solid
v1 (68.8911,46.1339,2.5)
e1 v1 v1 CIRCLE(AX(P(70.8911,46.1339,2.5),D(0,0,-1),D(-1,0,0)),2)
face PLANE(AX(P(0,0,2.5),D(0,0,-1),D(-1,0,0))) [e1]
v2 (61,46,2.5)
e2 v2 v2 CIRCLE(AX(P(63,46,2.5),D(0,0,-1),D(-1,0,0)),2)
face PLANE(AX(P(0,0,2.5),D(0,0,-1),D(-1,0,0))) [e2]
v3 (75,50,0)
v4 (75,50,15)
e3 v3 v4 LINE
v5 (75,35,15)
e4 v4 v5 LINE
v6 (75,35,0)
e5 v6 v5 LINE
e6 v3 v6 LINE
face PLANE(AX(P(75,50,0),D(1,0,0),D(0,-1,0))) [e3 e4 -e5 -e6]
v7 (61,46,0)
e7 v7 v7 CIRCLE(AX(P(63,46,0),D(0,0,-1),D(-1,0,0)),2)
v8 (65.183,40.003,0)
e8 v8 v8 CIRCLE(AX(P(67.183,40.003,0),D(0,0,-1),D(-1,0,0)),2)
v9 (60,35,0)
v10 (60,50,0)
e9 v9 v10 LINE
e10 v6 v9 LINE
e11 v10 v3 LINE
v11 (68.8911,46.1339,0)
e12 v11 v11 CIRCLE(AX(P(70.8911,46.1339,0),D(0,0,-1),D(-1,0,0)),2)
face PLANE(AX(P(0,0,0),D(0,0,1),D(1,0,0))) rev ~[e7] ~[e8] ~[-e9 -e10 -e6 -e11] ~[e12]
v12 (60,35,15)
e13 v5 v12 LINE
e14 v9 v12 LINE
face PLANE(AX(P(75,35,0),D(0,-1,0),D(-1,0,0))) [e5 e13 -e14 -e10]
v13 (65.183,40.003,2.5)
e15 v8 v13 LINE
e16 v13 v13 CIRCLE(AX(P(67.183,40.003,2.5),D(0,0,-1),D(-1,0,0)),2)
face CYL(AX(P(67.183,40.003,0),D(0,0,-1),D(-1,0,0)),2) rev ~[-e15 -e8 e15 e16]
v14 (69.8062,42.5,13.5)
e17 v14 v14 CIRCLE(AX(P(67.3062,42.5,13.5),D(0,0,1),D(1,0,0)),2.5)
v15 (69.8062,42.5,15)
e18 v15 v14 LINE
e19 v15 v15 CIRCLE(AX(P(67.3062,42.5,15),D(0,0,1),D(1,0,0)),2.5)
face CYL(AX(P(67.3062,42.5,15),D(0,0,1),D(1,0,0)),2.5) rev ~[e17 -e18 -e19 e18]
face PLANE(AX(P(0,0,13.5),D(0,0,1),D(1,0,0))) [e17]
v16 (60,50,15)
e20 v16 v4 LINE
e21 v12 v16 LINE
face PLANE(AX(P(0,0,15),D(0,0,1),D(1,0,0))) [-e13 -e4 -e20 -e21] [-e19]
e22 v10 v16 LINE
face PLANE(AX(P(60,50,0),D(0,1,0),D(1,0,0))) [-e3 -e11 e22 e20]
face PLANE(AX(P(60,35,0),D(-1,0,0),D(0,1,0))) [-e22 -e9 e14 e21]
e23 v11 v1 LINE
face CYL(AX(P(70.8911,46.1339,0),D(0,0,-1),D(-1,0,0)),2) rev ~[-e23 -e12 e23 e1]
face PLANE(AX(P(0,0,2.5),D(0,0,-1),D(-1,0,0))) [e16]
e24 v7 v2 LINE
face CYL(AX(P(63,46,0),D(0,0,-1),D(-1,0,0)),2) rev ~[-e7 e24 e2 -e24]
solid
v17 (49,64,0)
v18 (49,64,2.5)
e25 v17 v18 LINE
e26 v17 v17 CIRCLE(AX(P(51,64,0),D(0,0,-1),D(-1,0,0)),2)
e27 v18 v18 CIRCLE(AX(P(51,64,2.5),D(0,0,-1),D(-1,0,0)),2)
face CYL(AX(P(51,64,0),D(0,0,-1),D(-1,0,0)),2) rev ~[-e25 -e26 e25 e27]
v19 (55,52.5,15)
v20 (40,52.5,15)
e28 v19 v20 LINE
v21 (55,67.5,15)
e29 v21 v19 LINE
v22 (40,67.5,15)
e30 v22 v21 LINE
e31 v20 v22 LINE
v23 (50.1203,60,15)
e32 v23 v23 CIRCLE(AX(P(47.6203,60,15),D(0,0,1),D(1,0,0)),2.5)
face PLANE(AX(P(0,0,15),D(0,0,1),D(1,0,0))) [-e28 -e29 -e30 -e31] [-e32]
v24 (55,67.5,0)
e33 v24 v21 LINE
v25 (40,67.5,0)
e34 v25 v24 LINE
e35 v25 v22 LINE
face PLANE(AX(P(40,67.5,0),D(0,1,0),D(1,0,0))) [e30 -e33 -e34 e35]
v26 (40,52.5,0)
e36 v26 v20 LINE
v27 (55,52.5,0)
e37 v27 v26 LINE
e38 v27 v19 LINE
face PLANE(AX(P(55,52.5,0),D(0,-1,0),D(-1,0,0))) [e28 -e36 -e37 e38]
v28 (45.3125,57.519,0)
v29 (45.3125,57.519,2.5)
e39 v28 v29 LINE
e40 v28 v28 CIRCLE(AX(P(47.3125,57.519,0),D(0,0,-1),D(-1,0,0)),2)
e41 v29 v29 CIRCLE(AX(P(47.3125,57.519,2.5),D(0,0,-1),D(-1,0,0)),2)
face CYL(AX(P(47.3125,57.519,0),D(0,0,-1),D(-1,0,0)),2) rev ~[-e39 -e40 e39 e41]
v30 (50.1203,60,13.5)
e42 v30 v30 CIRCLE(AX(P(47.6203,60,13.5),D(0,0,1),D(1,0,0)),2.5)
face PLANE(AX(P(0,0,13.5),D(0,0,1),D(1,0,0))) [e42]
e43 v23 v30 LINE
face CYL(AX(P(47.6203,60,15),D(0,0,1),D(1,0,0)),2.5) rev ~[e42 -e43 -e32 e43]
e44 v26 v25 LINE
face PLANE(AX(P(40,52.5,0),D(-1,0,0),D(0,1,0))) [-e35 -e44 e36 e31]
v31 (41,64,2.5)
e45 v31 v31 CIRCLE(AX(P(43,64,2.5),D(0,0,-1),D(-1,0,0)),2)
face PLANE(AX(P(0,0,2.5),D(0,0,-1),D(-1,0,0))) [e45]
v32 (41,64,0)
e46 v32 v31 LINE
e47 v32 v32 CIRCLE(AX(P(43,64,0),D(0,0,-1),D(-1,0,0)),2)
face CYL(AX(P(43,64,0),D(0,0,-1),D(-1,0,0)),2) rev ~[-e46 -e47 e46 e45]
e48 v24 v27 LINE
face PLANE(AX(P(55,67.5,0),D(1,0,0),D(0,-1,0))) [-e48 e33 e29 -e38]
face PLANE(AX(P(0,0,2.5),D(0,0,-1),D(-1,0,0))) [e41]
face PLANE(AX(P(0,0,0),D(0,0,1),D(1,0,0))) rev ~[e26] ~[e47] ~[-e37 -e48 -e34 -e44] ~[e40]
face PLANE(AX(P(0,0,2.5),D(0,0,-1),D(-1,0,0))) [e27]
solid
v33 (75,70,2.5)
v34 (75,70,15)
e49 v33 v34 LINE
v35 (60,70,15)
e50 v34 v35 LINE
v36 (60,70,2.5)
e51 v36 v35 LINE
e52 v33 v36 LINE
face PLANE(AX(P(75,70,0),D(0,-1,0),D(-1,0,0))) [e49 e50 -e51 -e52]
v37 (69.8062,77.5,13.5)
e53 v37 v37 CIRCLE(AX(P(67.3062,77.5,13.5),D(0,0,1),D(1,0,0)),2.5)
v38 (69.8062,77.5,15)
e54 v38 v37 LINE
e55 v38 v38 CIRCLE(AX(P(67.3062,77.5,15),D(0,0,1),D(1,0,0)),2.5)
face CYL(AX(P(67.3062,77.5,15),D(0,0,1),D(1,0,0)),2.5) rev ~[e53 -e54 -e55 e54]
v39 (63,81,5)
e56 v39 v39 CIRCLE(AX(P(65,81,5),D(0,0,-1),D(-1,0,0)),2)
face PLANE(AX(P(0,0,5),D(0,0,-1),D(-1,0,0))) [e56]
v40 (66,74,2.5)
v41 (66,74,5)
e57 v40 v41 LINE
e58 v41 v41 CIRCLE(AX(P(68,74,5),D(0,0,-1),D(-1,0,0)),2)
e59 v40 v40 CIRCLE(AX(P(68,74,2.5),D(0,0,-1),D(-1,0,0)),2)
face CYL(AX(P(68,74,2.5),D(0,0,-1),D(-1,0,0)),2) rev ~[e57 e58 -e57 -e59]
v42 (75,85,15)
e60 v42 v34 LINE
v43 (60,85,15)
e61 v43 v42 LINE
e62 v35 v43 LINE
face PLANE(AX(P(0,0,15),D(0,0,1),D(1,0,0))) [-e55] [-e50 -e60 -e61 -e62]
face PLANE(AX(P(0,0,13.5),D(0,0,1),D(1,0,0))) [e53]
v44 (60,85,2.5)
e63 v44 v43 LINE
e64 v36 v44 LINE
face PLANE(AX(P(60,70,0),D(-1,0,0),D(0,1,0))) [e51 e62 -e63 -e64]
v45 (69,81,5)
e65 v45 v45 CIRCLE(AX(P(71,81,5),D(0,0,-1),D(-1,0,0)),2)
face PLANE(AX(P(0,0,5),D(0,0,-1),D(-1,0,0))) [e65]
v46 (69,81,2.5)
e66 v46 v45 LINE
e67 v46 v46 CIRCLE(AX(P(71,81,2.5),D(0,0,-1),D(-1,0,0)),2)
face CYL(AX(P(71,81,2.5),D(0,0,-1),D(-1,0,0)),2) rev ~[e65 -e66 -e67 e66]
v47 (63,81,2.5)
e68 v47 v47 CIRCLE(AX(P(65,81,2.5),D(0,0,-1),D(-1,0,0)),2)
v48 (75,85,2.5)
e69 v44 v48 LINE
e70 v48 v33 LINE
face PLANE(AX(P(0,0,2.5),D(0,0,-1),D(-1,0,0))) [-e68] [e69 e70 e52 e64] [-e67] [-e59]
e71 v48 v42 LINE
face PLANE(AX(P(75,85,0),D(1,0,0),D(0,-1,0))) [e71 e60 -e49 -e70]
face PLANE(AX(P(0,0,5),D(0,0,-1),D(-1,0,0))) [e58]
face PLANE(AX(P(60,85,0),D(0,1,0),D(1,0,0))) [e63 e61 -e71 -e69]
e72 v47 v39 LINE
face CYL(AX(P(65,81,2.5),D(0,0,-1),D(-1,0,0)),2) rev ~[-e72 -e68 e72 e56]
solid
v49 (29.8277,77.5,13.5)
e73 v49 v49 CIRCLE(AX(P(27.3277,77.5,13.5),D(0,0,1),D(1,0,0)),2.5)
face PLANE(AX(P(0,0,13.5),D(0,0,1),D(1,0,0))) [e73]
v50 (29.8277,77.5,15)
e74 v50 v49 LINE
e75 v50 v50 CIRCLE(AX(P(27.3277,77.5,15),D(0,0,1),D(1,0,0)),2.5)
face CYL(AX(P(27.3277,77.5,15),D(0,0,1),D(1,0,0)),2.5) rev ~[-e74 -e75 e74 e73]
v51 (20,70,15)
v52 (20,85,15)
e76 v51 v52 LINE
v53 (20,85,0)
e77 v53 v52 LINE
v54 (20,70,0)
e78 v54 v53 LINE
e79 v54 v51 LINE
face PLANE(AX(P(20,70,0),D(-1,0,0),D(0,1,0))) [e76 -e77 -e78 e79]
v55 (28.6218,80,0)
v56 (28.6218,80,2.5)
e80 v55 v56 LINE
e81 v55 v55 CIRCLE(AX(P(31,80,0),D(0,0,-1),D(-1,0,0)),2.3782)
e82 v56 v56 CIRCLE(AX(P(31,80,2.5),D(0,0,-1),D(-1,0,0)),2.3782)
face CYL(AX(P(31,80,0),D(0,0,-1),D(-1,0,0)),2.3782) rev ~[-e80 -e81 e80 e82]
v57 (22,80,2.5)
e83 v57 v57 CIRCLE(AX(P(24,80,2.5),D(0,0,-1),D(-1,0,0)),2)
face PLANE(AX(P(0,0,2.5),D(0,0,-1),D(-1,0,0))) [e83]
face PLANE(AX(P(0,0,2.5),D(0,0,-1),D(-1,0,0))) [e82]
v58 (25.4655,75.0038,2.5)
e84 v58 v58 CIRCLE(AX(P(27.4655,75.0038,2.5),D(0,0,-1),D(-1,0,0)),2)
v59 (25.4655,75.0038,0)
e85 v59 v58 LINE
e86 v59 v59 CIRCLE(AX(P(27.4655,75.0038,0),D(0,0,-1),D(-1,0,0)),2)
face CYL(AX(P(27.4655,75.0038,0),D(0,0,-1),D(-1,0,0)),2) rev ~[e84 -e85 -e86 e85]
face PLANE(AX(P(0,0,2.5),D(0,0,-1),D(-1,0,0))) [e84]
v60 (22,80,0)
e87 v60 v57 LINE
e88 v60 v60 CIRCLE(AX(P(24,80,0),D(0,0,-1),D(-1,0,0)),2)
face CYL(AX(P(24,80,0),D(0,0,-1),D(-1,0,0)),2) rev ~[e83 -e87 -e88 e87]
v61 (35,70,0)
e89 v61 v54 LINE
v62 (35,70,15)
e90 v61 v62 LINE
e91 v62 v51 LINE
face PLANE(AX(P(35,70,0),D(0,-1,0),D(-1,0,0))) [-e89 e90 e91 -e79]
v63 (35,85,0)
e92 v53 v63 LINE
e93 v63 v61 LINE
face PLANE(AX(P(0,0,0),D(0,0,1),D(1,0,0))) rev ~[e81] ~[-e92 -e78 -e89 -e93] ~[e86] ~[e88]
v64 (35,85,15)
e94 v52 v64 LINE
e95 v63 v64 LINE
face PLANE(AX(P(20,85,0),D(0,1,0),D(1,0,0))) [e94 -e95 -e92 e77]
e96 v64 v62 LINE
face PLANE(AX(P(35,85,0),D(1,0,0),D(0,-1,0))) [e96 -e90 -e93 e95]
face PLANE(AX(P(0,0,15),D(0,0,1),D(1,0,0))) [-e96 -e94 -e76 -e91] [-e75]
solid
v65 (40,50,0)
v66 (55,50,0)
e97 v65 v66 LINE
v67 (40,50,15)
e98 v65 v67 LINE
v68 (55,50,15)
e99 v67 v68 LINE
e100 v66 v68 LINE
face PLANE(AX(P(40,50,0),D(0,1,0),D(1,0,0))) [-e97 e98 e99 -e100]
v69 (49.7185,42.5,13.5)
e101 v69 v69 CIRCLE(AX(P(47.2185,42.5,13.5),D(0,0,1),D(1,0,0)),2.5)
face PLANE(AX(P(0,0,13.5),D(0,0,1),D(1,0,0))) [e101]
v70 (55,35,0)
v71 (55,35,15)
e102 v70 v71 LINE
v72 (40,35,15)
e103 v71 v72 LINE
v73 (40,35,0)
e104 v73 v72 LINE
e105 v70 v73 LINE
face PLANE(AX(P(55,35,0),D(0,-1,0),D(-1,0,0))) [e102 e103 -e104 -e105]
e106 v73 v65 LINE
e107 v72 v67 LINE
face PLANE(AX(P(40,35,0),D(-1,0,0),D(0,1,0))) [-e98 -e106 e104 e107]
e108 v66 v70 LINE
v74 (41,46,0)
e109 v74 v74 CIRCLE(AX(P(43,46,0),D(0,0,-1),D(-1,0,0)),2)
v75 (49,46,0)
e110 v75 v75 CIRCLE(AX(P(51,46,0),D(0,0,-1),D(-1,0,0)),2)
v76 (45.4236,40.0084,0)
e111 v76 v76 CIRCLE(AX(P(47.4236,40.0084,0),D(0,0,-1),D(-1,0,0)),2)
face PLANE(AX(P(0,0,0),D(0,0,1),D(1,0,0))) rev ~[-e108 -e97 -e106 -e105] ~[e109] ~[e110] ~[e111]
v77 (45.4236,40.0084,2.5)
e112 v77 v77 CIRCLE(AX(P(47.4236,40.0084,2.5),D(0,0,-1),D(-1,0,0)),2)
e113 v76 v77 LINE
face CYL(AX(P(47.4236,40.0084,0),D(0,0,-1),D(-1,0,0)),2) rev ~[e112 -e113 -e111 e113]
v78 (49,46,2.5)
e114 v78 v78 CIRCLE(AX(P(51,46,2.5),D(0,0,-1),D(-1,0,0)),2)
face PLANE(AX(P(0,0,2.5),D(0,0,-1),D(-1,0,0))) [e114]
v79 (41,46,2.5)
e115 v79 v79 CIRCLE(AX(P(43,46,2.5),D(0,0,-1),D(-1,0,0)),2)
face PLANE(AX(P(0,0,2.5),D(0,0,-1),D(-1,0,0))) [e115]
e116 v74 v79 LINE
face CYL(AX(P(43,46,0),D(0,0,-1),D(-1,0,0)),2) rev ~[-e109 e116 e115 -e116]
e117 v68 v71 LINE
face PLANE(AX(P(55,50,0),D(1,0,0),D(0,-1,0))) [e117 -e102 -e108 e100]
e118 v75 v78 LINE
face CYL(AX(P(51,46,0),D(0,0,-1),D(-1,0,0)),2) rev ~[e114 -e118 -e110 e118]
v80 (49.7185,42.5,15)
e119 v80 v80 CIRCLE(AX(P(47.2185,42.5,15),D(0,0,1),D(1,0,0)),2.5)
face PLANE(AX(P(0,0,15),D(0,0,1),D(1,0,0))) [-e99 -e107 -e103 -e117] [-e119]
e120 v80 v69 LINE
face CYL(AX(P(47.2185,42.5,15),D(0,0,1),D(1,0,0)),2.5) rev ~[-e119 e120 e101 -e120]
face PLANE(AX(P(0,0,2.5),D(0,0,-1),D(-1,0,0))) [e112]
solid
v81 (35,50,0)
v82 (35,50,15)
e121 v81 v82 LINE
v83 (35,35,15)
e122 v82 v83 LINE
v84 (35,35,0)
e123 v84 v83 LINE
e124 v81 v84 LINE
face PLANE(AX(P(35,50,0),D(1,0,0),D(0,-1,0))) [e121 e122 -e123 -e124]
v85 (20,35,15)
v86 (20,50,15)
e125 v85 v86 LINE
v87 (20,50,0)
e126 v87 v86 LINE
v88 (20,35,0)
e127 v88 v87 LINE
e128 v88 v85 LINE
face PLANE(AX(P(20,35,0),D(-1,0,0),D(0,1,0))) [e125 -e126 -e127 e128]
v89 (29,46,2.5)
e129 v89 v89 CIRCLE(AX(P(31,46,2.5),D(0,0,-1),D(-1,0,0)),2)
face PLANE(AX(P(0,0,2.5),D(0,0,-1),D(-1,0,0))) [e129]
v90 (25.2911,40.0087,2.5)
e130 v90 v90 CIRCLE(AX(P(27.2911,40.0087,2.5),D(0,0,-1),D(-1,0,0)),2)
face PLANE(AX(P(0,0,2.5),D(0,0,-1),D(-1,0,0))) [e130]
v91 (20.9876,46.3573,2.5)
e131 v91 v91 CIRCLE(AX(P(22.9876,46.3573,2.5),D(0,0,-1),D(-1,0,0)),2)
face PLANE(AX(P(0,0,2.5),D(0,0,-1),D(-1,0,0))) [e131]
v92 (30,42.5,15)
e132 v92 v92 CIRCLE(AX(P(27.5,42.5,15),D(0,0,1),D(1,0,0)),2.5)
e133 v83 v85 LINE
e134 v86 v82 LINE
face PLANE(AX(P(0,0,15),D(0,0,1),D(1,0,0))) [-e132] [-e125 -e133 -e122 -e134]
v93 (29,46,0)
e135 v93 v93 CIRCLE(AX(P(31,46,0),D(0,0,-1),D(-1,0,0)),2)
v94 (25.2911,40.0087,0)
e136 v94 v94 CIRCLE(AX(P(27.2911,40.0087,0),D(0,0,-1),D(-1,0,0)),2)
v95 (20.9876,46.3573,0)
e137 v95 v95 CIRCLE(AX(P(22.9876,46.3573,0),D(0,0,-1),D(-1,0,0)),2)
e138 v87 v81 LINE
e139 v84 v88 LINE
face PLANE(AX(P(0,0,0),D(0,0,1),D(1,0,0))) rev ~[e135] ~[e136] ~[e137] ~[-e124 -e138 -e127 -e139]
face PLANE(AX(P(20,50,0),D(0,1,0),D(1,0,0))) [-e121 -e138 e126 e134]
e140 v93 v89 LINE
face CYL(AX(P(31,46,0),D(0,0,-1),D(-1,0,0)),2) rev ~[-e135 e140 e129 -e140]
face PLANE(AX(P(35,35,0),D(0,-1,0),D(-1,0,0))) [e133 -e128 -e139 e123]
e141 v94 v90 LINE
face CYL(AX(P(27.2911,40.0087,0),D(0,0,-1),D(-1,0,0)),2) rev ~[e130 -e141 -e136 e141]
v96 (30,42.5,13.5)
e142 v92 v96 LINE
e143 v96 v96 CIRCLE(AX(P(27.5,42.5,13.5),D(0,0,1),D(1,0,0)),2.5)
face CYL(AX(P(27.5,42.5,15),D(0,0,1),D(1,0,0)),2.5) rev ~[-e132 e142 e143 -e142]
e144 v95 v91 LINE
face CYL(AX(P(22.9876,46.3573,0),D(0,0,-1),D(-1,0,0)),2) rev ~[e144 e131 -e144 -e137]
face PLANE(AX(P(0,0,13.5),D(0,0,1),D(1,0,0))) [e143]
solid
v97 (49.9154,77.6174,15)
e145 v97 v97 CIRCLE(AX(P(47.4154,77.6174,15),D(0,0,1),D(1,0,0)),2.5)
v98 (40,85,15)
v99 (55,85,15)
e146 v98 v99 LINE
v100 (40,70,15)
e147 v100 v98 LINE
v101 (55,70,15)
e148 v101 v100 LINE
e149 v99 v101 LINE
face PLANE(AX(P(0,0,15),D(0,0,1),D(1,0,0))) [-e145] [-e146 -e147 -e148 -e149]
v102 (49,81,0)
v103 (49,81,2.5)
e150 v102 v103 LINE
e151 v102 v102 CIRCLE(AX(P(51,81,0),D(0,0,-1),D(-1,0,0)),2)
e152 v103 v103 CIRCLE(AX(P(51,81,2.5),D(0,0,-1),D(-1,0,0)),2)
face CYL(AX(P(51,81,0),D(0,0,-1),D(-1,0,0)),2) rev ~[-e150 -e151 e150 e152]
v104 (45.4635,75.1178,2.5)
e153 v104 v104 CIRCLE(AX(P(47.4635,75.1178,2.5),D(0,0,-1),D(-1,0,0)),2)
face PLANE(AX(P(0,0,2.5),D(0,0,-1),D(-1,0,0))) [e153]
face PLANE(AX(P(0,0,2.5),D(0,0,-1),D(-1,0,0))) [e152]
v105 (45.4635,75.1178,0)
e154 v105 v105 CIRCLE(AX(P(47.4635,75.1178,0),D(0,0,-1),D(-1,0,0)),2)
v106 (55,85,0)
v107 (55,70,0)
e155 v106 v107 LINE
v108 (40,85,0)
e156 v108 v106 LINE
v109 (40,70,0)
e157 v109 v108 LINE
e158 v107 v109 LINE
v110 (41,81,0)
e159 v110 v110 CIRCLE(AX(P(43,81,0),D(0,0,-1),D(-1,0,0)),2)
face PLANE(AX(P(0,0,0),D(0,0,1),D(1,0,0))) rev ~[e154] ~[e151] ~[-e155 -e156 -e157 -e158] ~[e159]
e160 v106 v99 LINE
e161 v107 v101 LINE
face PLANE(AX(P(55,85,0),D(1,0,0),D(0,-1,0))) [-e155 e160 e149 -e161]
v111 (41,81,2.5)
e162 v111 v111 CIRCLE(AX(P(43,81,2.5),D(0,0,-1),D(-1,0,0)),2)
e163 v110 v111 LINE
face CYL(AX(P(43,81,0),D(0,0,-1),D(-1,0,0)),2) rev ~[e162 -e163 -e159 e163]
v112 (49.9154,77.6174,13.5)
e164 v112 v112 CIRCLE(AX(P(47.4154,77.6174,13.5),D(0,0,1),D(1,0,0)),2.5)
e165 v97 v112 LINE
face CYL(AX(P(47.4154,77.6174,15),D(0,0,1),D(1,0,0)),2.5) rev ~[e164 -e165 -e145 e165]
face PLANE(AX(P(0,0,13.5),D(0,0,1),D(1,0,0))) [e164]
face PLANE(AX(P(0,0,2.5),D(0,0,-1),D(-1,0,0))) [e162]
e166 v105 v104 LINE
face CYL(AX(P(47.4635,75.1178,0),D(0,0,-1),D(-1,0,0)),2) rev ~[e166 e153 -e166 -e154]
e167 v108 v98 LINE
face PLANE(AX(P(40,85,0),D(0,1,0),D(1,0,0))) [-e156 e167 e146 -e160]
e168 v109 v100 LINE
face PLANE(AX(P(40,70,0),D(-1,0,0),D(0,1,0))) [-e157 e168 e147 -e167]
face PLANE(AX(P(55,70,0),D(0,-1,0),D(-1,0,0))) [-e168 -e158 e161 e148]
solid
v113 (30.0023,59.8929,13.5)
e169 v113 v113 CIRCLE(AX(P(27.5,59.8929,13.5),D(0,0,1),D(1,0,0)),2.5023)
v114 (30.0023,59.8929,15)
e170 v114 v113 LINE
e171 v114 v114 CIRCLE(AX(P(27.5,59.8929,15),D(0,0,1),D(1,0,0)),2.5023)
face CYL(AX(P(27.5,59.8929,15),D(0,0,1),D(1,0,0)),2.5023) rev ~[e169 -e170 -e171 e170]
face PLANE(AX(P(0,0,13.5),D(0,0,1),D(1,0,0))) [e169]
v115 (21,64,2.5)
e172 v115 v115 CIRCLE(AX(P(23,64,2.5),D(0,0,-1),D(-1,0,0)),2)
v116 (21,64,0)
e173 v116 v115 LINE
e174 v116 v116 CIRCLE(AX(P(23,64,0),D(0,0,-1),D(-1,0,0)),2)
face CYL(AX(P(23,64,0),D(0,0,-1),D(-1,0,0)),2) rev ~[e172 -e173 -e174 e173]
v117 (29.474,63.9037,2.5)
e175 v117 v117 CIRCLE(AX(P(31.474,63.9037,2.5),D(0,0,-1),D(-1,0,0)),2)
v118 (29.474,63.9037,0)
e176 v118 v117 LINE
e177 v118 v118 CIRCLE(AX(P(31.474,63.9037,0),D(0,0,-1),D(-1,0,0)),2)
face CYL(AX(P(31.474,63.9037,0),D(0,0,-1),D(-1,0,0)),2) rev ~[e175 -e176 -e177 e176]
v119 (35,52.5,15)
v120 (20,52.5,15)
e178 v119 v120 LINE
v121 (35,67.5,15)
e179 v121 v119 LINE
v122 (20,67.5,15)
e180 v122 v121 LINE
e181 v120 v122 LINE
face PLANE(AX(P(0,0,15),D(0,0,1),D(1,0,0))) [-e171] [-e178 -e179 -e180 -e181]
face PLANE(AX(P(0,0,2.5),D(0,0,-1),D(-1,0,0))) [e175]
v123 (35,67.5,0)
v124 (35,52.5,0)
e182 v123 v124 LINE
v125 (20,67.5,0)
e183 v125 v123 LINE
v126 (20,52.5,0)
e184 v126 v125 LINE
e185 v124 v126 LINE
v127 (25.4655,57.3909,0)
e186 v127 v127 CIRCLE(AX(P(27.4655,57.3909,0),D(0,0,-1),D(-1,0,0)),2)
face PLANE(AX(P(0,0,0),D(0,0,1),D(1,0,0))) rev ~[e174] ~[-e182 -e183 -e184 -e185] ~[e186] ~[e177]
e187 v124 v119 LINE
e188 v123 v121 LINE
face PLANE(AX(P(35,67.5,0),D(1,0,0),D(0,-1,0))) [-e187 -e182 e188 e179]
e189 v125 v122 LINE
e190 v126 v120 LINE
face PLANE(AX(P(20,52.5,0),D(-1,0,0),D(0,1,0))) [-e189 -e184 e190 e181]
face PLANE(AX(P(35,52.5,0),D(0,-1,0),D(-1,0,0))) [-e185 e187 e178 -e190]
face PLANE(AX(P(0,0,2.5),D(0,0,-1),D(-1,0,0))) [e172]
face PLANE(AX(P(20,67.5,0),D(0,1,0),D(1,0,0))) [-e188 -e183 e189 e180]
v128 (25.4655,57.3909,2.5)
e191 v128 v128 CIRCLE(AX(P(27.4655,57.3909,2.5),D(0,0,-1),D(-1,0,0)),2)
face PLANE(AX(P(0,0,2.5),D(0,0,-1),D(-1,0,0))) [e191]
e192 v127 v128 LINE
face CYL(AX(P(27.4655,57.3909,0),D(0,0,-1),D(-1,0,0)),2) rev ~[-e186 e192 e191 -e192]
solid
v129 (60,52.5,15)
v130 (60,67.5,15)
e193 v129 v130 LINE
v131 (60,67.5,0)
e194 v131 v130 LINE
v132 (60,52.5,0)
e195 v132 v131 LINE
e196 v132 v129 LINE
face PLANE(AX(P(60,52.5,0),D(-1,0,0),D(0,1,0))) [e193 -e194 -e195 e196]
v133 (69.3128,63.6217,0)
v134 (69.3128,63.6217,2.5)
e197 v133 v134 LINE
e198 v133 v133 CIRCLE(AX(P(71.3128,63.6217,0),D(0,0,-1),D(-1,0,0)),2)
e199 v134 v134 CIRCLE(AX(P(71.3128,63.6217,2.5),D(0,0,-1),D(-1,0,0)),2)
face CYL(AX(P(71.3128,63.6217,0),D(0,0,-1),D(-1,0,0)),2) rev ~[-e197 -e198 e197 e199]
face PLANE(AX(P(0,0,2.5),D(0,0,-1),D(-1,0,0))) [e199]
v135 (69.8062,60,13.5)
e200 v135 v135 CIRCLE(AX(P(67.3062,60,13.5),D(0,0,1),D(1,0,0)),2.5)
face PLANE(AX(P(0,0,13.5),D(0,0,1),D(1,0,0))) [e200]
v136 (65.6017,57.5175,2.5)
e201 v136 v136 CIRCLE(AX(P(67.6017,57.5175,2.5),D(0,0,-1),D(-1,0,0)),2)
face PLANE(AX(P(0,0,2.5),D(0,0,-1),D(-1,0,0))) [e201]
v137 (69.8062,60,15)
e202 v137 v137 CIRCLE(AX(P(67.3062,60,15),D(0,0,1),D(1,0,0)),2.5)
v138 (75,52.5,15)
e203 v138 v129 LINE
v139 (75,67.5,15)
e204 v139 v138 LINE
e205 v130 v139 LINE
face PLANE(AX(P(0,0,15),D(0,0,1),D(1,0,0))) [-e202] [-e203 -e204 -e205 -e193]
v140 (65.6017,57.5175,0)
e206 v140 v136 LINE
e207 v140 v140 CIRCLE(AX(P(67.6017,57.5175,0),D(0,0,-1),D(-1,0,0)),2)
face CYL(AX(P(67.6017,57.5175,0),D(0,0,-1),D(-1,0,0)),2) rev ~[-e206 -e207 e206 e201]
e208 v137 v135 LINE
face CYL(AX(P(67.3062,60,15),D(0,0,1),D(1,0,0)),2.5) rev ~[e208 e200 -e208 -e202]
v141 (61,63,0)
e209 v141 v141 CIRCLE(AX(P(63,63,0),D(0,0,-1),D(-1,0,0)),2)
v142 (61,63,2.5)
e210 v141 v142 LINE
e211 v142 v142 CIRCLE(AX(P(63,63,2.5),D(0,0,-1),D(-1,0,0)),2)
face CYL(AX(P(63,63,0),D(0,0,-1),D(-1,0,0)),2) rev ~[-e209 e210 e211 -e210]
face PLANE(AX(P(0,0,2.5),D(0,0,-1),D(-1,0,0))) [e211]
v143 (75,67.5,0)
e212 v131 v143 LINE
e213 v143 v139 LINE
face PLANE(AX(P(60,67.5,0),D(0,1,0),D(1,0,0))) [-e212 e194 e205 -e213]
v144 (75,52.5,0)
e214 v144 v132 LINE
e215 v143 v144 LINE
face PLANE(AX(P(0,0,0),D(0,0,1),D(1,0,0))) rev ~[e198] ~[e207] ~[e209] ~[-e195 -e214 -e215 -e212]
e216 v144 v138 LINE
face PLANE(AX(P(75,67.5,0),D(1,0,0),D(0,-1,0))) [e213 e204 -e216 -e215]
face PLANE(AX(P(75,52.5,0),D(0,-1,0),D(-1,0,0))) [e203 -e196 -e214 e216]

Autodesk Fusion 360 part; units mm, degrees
sketch "Sketch1" plane through (0, 0, 0) normal (1, 0, 0) x (0, 0, -1)
sketch "Sketch2" plane through (0, 0, 0) normal (0, 0, 1) x (1, 0, 0)
  line L0 (20, 50) -> (35, 50)
  line L1 (35, 50) -> (35, 35)
  line L2 (35, 35) -> (20, 35)
  line L3 (20, 35) -> (20, 50)
  line L4 (55, 50) -> (55, 35)
  line L5 (55, 35) -> (40, 35)
  line L6 (40, 50) -> (55, 50)
  line L7 (40, 35) -> (40, 50)
  line L8 (75, 50) -> (75, 35)
  line L9 (75, 35) -> (60, 35)
  line L10 (60, 50) -> (75, 50)
  line L11 (60, 35) -> (60, 50)
  line L12 (35, 67.5) -> (35, 52.5)
  line L13 (35, 52.5) -> (20, 52.5)
  line L14 (20, 67.5) -> (35, 67.5)
  line L15 (20, 52.5) -> (20, 67.5)
  line L16 (55, 67.5) -> (55, 52.5)
  line L17 (55, 52.5) -> (40, 52.5)
  line L18 (40, 67.5) -> (55, 67.5)
  line L19 (40, 52.5) -> (40, 67.5)
  line L20 (75, 67.5) -> (75, 52.5)
  line L21 (75, 52.5) -> (60, 52.5)
  line L22 (60, 67.5) -> (75, 67.5)
  line L23 (60, 52.5) -> (60, 67.5)
  line L24 (35, 85) -> (35, 70)
  line L25 (35, 70) -> (20, 70)
  line L26 (20, 85) -> (35, 85)
  line L27 (20, 70) -> (20, 85)
  line L28 (55, 85) -> (55, 70)
  line L29 (55, 70) -> (40, 70)
  line L30 (40, 85) -> (55, 85)
  line L31 (40, 70) -> (40, 85)
  line L32 (75, 85) -> (75, 70)
  line L33 (75, 70) -> (60, 70)
  line L34 (60, 85) -> (75, 85)
  line L35 (60, 70) -> (60, 85)
  dimension "d3" = 40
  dimension "d4" = 35
extrude "Extrude1" add sketch "Sketch2" along normal blind 15 makes body 1 at (25, 50, 5) makes body 2 at (75, 80, 5) makes body 3 at (55, 80, 5) makes body 4 at (35, 62.5, 5) makes body 5 at (55, 45, 5) makes body 6 at (75, 62.5, 5) makes body 7 at (35, 80, 5) makes body 8 at (55, 62.5, 5) makes body 9 at (75, 45, 5)
sketch "Sketch3" plane through (0, 0, 15) normal (0, 0, 1) x (1, 0, 0)
  line L0 (40, 52.5) -> (55, 52.5)
  line L1 (55, 52.5) -> (55, 67.5)
  line L2 (55, 67.5) -> (40, 67.5)
  line L3 (40, 67.5) -> (40, 52.5)
  circle A0 centre (47.6203, 60) radius 2.5
  dimension "d7" = 5
sketch "Sketch4" plane through (0, 0, 15) normal (0, 0, 1) x (1, 0, 0)
  line L0 (40, 70) -> (55, 70)
  line L1 (55, 70) -> (55, 85)
  line L2 (55, 85) -> (40, 85)
  line L3 (40, 85) -> (40, 70)
  circle A0 centre (47.4154, 77.6174) radius 2.5
  circle A1 centre (27.3277, 77.5) radius 2.5
  circle A2 centre (67.3062, 77.5) radius 2.5
  circle A3 centre (27.5, 59.8929) radius 2.5023
  circle A4 centre (67.3062, 60) radius 2.5
  circle A5 centre (27.5, 42.5) radius 2.5
  circle A6 centre (47.2185, 42.5) radius 2.5
  circle A7 centre (67.3062, 42.5) radius 2.5
  dimension "d8" = 5
  dimension "d9" = 5
  dimension "d10" = 5
  dimension "d11" = 5
  dimension "d12" = 5
  dimension "d13" = 5
  dimension "d14" = 5
extrude "Extrude2" cut sketch "Sketch3" sketch "Sketch4" against normal blind 1.5 contours A0 of sketch 2 contours A0 | A1 | A2 | A3 | A4 | A5 | A6 | A7 bodies 1 2 3 4 5 6 7 8 9
sketch "Sketch5" plane through (0, 0, 0) normal (0, 0, -1) x (-1, 0, 0)
  line L0 (-75, 70) -> (-60, 70)
  line L1 (-60, 70) -> (-60, 85)
  line L2 (-60, 85) -> (-75, 85)
  line L3 (-75, 85) -> (-75, 70)
  circle A0 centre (-72, 81) radius 2
  circle A1 centre (-62.8715, 80.7996) radius 2
  circle A2 centre (-67.3546, 75.0005) radius 2
  circle A3 centre (-51, 81) radius 2
  circle A4 centre (-43, 81) radius 2
  circle A5 centre (-47.4635, 75.1178) radius 2
  circle A6 centre (-31, 80) radius 2.3782
  circle A7 centre (-24, 80) radius 2
  circle A8 centre (-27.4655, 75.0038) radius 2
  circle A9 centre (-71.3128, 63.6217) radius 2
  circle A10 centre (-63, 63) radius 2
  circle A11 centre (-67.6017, 57.5175) radius 2
  circle A12 centre (-51, 64) radius 2
  circle A13 centre (-43, 64) radius 2
  circle A14 centre (-47.3125, 57.519) radius 2
  circle A15 centre (-31.474, 63.9037) radius 2
  circle A16 centre (-23, 64) radius 2
  circle A17 centre (-27.4655, 57.3909) radius 2
  circle A18 centre (-70.8911, 46.1339) radius 2
  circle A19 centre (-63, 46) radius 2
  circle A20 centre (-67.183, 40.003) radius 2
  circle A21 centre (-51, 46) radius 2
  circle A22 centre (-43, 46) radius 2
  circle A23 centre (-47.4236, 40.0084) radius 2
  circle A24 centre (-31, 46) radius 2
  circle A25 centre (-22.9876, 46.3573) radius 2
  circle A26 centre (-27.2911, 40.0087) radius 2
  dimension "d17" = 4
  dimension "d18" = 4
  dimension "d19" = 4
  dimension "d20" = 4
  dimension "d21" = 4
  dimension "d22" = 4
  dimension "d23" = 4
  dimension "d24" = 4
  dimension "d25" = 4
  dimension "d26" = 4
  dimension "d27" = 4
  dimension "d28" = 4
  dimension "d29" = 4
  dimension "d30" = 4
  dimension "d31" = 4
  dimension "d32" = 4
  dimension "d33" = 4
  dimension "d34" = 4
  dimension "d35" = 4
  dimension "d36" = 4
  dimension "d37" = 4
  dimension "d38" = 4
  dimension "d39" = 4
extrude "Extrude3" cut sketch "Sketch5" against normal blind 2.5 contours L0 L1 L2 L3 | A0 | A1 | A2 | A3 | A4 | A5 | A6 | A7 | A8 | A9 | A10 | A11 | A12 | A13 | A14 | A15 | A16 | A17 | A18 | A19 | A20 | A21 | A22 | A23 | A24 | A25 | A26 bodies 1 2 3 4 5 6 7 8 9
sketch "Sketch6" plane through (0, 0, 2.5) normal (0, 0, -1) x (-1, 0, 0)
  line L0 (-75, 85) -> (-75, 70)
  line L1 (-75, 70) -> (-60, 70)
  line L2 (-60, 70) -> (-60, 85)
  line L3 (-60, 85) -> (-75, 85)
  circle A0 centre (-71, 81) radius 2
  circle A1 centre (-65, 81) radius 2
  circle A2 centre (-68, 74) radius 2
  dimension "d42" = 4
  dimension "d43" = 4
extrude "Extrude4" cut sketch "Sketch6" against normal blind 2.5 contours A0 | A1 | A2 bodies 2
sketch "Sketch7" plane through (0, 0, 0) normal (0, 0, -1) x (-1, 0, 0)
  circle A0 centre (-31, 46) radius 2
  circle A1 centre (-27.2911, 40.0087) radius 2
  circle A2 centre (-22.9876, 46.3573) radius 2
  line L0 (-35, 35) -> (-20, 35)
  line L1 (-20, 35) -> (-20, 50)
  line L2 (-20, 50) -> (-35, 50)
  line L3 (-35, 50) -> (-35, 35)
sketch "Sketch8" plane through (20, 0, 0) normal (-1, 0, 0) x (0, 0, 1)
  line L0 (0, 85) -> (0, 70)
  line L1 (0, 70) -> (15, 70)
  line L2 (15, 70) -> (15, 85)
  line L3 (15, 85) -> (0, 85)
  circle A0 centre (7, 80) radius 2
  circle A1 centre (7, 74) radius 2
  circle A2 centre (7, 64) radius 2
  circle A3 centre (7, 57) radius 2
  circle A4 centre (7, 45) radius 2
  circle A5 centre (7.3697, 38.2974) radius 2
  dimension "d46" = 4
  dimension "d47" = 4
  dimension "d48" = 4
  dimension "d49" = 4
  dimension "d50" = 4
  dimension "d51" = 4
